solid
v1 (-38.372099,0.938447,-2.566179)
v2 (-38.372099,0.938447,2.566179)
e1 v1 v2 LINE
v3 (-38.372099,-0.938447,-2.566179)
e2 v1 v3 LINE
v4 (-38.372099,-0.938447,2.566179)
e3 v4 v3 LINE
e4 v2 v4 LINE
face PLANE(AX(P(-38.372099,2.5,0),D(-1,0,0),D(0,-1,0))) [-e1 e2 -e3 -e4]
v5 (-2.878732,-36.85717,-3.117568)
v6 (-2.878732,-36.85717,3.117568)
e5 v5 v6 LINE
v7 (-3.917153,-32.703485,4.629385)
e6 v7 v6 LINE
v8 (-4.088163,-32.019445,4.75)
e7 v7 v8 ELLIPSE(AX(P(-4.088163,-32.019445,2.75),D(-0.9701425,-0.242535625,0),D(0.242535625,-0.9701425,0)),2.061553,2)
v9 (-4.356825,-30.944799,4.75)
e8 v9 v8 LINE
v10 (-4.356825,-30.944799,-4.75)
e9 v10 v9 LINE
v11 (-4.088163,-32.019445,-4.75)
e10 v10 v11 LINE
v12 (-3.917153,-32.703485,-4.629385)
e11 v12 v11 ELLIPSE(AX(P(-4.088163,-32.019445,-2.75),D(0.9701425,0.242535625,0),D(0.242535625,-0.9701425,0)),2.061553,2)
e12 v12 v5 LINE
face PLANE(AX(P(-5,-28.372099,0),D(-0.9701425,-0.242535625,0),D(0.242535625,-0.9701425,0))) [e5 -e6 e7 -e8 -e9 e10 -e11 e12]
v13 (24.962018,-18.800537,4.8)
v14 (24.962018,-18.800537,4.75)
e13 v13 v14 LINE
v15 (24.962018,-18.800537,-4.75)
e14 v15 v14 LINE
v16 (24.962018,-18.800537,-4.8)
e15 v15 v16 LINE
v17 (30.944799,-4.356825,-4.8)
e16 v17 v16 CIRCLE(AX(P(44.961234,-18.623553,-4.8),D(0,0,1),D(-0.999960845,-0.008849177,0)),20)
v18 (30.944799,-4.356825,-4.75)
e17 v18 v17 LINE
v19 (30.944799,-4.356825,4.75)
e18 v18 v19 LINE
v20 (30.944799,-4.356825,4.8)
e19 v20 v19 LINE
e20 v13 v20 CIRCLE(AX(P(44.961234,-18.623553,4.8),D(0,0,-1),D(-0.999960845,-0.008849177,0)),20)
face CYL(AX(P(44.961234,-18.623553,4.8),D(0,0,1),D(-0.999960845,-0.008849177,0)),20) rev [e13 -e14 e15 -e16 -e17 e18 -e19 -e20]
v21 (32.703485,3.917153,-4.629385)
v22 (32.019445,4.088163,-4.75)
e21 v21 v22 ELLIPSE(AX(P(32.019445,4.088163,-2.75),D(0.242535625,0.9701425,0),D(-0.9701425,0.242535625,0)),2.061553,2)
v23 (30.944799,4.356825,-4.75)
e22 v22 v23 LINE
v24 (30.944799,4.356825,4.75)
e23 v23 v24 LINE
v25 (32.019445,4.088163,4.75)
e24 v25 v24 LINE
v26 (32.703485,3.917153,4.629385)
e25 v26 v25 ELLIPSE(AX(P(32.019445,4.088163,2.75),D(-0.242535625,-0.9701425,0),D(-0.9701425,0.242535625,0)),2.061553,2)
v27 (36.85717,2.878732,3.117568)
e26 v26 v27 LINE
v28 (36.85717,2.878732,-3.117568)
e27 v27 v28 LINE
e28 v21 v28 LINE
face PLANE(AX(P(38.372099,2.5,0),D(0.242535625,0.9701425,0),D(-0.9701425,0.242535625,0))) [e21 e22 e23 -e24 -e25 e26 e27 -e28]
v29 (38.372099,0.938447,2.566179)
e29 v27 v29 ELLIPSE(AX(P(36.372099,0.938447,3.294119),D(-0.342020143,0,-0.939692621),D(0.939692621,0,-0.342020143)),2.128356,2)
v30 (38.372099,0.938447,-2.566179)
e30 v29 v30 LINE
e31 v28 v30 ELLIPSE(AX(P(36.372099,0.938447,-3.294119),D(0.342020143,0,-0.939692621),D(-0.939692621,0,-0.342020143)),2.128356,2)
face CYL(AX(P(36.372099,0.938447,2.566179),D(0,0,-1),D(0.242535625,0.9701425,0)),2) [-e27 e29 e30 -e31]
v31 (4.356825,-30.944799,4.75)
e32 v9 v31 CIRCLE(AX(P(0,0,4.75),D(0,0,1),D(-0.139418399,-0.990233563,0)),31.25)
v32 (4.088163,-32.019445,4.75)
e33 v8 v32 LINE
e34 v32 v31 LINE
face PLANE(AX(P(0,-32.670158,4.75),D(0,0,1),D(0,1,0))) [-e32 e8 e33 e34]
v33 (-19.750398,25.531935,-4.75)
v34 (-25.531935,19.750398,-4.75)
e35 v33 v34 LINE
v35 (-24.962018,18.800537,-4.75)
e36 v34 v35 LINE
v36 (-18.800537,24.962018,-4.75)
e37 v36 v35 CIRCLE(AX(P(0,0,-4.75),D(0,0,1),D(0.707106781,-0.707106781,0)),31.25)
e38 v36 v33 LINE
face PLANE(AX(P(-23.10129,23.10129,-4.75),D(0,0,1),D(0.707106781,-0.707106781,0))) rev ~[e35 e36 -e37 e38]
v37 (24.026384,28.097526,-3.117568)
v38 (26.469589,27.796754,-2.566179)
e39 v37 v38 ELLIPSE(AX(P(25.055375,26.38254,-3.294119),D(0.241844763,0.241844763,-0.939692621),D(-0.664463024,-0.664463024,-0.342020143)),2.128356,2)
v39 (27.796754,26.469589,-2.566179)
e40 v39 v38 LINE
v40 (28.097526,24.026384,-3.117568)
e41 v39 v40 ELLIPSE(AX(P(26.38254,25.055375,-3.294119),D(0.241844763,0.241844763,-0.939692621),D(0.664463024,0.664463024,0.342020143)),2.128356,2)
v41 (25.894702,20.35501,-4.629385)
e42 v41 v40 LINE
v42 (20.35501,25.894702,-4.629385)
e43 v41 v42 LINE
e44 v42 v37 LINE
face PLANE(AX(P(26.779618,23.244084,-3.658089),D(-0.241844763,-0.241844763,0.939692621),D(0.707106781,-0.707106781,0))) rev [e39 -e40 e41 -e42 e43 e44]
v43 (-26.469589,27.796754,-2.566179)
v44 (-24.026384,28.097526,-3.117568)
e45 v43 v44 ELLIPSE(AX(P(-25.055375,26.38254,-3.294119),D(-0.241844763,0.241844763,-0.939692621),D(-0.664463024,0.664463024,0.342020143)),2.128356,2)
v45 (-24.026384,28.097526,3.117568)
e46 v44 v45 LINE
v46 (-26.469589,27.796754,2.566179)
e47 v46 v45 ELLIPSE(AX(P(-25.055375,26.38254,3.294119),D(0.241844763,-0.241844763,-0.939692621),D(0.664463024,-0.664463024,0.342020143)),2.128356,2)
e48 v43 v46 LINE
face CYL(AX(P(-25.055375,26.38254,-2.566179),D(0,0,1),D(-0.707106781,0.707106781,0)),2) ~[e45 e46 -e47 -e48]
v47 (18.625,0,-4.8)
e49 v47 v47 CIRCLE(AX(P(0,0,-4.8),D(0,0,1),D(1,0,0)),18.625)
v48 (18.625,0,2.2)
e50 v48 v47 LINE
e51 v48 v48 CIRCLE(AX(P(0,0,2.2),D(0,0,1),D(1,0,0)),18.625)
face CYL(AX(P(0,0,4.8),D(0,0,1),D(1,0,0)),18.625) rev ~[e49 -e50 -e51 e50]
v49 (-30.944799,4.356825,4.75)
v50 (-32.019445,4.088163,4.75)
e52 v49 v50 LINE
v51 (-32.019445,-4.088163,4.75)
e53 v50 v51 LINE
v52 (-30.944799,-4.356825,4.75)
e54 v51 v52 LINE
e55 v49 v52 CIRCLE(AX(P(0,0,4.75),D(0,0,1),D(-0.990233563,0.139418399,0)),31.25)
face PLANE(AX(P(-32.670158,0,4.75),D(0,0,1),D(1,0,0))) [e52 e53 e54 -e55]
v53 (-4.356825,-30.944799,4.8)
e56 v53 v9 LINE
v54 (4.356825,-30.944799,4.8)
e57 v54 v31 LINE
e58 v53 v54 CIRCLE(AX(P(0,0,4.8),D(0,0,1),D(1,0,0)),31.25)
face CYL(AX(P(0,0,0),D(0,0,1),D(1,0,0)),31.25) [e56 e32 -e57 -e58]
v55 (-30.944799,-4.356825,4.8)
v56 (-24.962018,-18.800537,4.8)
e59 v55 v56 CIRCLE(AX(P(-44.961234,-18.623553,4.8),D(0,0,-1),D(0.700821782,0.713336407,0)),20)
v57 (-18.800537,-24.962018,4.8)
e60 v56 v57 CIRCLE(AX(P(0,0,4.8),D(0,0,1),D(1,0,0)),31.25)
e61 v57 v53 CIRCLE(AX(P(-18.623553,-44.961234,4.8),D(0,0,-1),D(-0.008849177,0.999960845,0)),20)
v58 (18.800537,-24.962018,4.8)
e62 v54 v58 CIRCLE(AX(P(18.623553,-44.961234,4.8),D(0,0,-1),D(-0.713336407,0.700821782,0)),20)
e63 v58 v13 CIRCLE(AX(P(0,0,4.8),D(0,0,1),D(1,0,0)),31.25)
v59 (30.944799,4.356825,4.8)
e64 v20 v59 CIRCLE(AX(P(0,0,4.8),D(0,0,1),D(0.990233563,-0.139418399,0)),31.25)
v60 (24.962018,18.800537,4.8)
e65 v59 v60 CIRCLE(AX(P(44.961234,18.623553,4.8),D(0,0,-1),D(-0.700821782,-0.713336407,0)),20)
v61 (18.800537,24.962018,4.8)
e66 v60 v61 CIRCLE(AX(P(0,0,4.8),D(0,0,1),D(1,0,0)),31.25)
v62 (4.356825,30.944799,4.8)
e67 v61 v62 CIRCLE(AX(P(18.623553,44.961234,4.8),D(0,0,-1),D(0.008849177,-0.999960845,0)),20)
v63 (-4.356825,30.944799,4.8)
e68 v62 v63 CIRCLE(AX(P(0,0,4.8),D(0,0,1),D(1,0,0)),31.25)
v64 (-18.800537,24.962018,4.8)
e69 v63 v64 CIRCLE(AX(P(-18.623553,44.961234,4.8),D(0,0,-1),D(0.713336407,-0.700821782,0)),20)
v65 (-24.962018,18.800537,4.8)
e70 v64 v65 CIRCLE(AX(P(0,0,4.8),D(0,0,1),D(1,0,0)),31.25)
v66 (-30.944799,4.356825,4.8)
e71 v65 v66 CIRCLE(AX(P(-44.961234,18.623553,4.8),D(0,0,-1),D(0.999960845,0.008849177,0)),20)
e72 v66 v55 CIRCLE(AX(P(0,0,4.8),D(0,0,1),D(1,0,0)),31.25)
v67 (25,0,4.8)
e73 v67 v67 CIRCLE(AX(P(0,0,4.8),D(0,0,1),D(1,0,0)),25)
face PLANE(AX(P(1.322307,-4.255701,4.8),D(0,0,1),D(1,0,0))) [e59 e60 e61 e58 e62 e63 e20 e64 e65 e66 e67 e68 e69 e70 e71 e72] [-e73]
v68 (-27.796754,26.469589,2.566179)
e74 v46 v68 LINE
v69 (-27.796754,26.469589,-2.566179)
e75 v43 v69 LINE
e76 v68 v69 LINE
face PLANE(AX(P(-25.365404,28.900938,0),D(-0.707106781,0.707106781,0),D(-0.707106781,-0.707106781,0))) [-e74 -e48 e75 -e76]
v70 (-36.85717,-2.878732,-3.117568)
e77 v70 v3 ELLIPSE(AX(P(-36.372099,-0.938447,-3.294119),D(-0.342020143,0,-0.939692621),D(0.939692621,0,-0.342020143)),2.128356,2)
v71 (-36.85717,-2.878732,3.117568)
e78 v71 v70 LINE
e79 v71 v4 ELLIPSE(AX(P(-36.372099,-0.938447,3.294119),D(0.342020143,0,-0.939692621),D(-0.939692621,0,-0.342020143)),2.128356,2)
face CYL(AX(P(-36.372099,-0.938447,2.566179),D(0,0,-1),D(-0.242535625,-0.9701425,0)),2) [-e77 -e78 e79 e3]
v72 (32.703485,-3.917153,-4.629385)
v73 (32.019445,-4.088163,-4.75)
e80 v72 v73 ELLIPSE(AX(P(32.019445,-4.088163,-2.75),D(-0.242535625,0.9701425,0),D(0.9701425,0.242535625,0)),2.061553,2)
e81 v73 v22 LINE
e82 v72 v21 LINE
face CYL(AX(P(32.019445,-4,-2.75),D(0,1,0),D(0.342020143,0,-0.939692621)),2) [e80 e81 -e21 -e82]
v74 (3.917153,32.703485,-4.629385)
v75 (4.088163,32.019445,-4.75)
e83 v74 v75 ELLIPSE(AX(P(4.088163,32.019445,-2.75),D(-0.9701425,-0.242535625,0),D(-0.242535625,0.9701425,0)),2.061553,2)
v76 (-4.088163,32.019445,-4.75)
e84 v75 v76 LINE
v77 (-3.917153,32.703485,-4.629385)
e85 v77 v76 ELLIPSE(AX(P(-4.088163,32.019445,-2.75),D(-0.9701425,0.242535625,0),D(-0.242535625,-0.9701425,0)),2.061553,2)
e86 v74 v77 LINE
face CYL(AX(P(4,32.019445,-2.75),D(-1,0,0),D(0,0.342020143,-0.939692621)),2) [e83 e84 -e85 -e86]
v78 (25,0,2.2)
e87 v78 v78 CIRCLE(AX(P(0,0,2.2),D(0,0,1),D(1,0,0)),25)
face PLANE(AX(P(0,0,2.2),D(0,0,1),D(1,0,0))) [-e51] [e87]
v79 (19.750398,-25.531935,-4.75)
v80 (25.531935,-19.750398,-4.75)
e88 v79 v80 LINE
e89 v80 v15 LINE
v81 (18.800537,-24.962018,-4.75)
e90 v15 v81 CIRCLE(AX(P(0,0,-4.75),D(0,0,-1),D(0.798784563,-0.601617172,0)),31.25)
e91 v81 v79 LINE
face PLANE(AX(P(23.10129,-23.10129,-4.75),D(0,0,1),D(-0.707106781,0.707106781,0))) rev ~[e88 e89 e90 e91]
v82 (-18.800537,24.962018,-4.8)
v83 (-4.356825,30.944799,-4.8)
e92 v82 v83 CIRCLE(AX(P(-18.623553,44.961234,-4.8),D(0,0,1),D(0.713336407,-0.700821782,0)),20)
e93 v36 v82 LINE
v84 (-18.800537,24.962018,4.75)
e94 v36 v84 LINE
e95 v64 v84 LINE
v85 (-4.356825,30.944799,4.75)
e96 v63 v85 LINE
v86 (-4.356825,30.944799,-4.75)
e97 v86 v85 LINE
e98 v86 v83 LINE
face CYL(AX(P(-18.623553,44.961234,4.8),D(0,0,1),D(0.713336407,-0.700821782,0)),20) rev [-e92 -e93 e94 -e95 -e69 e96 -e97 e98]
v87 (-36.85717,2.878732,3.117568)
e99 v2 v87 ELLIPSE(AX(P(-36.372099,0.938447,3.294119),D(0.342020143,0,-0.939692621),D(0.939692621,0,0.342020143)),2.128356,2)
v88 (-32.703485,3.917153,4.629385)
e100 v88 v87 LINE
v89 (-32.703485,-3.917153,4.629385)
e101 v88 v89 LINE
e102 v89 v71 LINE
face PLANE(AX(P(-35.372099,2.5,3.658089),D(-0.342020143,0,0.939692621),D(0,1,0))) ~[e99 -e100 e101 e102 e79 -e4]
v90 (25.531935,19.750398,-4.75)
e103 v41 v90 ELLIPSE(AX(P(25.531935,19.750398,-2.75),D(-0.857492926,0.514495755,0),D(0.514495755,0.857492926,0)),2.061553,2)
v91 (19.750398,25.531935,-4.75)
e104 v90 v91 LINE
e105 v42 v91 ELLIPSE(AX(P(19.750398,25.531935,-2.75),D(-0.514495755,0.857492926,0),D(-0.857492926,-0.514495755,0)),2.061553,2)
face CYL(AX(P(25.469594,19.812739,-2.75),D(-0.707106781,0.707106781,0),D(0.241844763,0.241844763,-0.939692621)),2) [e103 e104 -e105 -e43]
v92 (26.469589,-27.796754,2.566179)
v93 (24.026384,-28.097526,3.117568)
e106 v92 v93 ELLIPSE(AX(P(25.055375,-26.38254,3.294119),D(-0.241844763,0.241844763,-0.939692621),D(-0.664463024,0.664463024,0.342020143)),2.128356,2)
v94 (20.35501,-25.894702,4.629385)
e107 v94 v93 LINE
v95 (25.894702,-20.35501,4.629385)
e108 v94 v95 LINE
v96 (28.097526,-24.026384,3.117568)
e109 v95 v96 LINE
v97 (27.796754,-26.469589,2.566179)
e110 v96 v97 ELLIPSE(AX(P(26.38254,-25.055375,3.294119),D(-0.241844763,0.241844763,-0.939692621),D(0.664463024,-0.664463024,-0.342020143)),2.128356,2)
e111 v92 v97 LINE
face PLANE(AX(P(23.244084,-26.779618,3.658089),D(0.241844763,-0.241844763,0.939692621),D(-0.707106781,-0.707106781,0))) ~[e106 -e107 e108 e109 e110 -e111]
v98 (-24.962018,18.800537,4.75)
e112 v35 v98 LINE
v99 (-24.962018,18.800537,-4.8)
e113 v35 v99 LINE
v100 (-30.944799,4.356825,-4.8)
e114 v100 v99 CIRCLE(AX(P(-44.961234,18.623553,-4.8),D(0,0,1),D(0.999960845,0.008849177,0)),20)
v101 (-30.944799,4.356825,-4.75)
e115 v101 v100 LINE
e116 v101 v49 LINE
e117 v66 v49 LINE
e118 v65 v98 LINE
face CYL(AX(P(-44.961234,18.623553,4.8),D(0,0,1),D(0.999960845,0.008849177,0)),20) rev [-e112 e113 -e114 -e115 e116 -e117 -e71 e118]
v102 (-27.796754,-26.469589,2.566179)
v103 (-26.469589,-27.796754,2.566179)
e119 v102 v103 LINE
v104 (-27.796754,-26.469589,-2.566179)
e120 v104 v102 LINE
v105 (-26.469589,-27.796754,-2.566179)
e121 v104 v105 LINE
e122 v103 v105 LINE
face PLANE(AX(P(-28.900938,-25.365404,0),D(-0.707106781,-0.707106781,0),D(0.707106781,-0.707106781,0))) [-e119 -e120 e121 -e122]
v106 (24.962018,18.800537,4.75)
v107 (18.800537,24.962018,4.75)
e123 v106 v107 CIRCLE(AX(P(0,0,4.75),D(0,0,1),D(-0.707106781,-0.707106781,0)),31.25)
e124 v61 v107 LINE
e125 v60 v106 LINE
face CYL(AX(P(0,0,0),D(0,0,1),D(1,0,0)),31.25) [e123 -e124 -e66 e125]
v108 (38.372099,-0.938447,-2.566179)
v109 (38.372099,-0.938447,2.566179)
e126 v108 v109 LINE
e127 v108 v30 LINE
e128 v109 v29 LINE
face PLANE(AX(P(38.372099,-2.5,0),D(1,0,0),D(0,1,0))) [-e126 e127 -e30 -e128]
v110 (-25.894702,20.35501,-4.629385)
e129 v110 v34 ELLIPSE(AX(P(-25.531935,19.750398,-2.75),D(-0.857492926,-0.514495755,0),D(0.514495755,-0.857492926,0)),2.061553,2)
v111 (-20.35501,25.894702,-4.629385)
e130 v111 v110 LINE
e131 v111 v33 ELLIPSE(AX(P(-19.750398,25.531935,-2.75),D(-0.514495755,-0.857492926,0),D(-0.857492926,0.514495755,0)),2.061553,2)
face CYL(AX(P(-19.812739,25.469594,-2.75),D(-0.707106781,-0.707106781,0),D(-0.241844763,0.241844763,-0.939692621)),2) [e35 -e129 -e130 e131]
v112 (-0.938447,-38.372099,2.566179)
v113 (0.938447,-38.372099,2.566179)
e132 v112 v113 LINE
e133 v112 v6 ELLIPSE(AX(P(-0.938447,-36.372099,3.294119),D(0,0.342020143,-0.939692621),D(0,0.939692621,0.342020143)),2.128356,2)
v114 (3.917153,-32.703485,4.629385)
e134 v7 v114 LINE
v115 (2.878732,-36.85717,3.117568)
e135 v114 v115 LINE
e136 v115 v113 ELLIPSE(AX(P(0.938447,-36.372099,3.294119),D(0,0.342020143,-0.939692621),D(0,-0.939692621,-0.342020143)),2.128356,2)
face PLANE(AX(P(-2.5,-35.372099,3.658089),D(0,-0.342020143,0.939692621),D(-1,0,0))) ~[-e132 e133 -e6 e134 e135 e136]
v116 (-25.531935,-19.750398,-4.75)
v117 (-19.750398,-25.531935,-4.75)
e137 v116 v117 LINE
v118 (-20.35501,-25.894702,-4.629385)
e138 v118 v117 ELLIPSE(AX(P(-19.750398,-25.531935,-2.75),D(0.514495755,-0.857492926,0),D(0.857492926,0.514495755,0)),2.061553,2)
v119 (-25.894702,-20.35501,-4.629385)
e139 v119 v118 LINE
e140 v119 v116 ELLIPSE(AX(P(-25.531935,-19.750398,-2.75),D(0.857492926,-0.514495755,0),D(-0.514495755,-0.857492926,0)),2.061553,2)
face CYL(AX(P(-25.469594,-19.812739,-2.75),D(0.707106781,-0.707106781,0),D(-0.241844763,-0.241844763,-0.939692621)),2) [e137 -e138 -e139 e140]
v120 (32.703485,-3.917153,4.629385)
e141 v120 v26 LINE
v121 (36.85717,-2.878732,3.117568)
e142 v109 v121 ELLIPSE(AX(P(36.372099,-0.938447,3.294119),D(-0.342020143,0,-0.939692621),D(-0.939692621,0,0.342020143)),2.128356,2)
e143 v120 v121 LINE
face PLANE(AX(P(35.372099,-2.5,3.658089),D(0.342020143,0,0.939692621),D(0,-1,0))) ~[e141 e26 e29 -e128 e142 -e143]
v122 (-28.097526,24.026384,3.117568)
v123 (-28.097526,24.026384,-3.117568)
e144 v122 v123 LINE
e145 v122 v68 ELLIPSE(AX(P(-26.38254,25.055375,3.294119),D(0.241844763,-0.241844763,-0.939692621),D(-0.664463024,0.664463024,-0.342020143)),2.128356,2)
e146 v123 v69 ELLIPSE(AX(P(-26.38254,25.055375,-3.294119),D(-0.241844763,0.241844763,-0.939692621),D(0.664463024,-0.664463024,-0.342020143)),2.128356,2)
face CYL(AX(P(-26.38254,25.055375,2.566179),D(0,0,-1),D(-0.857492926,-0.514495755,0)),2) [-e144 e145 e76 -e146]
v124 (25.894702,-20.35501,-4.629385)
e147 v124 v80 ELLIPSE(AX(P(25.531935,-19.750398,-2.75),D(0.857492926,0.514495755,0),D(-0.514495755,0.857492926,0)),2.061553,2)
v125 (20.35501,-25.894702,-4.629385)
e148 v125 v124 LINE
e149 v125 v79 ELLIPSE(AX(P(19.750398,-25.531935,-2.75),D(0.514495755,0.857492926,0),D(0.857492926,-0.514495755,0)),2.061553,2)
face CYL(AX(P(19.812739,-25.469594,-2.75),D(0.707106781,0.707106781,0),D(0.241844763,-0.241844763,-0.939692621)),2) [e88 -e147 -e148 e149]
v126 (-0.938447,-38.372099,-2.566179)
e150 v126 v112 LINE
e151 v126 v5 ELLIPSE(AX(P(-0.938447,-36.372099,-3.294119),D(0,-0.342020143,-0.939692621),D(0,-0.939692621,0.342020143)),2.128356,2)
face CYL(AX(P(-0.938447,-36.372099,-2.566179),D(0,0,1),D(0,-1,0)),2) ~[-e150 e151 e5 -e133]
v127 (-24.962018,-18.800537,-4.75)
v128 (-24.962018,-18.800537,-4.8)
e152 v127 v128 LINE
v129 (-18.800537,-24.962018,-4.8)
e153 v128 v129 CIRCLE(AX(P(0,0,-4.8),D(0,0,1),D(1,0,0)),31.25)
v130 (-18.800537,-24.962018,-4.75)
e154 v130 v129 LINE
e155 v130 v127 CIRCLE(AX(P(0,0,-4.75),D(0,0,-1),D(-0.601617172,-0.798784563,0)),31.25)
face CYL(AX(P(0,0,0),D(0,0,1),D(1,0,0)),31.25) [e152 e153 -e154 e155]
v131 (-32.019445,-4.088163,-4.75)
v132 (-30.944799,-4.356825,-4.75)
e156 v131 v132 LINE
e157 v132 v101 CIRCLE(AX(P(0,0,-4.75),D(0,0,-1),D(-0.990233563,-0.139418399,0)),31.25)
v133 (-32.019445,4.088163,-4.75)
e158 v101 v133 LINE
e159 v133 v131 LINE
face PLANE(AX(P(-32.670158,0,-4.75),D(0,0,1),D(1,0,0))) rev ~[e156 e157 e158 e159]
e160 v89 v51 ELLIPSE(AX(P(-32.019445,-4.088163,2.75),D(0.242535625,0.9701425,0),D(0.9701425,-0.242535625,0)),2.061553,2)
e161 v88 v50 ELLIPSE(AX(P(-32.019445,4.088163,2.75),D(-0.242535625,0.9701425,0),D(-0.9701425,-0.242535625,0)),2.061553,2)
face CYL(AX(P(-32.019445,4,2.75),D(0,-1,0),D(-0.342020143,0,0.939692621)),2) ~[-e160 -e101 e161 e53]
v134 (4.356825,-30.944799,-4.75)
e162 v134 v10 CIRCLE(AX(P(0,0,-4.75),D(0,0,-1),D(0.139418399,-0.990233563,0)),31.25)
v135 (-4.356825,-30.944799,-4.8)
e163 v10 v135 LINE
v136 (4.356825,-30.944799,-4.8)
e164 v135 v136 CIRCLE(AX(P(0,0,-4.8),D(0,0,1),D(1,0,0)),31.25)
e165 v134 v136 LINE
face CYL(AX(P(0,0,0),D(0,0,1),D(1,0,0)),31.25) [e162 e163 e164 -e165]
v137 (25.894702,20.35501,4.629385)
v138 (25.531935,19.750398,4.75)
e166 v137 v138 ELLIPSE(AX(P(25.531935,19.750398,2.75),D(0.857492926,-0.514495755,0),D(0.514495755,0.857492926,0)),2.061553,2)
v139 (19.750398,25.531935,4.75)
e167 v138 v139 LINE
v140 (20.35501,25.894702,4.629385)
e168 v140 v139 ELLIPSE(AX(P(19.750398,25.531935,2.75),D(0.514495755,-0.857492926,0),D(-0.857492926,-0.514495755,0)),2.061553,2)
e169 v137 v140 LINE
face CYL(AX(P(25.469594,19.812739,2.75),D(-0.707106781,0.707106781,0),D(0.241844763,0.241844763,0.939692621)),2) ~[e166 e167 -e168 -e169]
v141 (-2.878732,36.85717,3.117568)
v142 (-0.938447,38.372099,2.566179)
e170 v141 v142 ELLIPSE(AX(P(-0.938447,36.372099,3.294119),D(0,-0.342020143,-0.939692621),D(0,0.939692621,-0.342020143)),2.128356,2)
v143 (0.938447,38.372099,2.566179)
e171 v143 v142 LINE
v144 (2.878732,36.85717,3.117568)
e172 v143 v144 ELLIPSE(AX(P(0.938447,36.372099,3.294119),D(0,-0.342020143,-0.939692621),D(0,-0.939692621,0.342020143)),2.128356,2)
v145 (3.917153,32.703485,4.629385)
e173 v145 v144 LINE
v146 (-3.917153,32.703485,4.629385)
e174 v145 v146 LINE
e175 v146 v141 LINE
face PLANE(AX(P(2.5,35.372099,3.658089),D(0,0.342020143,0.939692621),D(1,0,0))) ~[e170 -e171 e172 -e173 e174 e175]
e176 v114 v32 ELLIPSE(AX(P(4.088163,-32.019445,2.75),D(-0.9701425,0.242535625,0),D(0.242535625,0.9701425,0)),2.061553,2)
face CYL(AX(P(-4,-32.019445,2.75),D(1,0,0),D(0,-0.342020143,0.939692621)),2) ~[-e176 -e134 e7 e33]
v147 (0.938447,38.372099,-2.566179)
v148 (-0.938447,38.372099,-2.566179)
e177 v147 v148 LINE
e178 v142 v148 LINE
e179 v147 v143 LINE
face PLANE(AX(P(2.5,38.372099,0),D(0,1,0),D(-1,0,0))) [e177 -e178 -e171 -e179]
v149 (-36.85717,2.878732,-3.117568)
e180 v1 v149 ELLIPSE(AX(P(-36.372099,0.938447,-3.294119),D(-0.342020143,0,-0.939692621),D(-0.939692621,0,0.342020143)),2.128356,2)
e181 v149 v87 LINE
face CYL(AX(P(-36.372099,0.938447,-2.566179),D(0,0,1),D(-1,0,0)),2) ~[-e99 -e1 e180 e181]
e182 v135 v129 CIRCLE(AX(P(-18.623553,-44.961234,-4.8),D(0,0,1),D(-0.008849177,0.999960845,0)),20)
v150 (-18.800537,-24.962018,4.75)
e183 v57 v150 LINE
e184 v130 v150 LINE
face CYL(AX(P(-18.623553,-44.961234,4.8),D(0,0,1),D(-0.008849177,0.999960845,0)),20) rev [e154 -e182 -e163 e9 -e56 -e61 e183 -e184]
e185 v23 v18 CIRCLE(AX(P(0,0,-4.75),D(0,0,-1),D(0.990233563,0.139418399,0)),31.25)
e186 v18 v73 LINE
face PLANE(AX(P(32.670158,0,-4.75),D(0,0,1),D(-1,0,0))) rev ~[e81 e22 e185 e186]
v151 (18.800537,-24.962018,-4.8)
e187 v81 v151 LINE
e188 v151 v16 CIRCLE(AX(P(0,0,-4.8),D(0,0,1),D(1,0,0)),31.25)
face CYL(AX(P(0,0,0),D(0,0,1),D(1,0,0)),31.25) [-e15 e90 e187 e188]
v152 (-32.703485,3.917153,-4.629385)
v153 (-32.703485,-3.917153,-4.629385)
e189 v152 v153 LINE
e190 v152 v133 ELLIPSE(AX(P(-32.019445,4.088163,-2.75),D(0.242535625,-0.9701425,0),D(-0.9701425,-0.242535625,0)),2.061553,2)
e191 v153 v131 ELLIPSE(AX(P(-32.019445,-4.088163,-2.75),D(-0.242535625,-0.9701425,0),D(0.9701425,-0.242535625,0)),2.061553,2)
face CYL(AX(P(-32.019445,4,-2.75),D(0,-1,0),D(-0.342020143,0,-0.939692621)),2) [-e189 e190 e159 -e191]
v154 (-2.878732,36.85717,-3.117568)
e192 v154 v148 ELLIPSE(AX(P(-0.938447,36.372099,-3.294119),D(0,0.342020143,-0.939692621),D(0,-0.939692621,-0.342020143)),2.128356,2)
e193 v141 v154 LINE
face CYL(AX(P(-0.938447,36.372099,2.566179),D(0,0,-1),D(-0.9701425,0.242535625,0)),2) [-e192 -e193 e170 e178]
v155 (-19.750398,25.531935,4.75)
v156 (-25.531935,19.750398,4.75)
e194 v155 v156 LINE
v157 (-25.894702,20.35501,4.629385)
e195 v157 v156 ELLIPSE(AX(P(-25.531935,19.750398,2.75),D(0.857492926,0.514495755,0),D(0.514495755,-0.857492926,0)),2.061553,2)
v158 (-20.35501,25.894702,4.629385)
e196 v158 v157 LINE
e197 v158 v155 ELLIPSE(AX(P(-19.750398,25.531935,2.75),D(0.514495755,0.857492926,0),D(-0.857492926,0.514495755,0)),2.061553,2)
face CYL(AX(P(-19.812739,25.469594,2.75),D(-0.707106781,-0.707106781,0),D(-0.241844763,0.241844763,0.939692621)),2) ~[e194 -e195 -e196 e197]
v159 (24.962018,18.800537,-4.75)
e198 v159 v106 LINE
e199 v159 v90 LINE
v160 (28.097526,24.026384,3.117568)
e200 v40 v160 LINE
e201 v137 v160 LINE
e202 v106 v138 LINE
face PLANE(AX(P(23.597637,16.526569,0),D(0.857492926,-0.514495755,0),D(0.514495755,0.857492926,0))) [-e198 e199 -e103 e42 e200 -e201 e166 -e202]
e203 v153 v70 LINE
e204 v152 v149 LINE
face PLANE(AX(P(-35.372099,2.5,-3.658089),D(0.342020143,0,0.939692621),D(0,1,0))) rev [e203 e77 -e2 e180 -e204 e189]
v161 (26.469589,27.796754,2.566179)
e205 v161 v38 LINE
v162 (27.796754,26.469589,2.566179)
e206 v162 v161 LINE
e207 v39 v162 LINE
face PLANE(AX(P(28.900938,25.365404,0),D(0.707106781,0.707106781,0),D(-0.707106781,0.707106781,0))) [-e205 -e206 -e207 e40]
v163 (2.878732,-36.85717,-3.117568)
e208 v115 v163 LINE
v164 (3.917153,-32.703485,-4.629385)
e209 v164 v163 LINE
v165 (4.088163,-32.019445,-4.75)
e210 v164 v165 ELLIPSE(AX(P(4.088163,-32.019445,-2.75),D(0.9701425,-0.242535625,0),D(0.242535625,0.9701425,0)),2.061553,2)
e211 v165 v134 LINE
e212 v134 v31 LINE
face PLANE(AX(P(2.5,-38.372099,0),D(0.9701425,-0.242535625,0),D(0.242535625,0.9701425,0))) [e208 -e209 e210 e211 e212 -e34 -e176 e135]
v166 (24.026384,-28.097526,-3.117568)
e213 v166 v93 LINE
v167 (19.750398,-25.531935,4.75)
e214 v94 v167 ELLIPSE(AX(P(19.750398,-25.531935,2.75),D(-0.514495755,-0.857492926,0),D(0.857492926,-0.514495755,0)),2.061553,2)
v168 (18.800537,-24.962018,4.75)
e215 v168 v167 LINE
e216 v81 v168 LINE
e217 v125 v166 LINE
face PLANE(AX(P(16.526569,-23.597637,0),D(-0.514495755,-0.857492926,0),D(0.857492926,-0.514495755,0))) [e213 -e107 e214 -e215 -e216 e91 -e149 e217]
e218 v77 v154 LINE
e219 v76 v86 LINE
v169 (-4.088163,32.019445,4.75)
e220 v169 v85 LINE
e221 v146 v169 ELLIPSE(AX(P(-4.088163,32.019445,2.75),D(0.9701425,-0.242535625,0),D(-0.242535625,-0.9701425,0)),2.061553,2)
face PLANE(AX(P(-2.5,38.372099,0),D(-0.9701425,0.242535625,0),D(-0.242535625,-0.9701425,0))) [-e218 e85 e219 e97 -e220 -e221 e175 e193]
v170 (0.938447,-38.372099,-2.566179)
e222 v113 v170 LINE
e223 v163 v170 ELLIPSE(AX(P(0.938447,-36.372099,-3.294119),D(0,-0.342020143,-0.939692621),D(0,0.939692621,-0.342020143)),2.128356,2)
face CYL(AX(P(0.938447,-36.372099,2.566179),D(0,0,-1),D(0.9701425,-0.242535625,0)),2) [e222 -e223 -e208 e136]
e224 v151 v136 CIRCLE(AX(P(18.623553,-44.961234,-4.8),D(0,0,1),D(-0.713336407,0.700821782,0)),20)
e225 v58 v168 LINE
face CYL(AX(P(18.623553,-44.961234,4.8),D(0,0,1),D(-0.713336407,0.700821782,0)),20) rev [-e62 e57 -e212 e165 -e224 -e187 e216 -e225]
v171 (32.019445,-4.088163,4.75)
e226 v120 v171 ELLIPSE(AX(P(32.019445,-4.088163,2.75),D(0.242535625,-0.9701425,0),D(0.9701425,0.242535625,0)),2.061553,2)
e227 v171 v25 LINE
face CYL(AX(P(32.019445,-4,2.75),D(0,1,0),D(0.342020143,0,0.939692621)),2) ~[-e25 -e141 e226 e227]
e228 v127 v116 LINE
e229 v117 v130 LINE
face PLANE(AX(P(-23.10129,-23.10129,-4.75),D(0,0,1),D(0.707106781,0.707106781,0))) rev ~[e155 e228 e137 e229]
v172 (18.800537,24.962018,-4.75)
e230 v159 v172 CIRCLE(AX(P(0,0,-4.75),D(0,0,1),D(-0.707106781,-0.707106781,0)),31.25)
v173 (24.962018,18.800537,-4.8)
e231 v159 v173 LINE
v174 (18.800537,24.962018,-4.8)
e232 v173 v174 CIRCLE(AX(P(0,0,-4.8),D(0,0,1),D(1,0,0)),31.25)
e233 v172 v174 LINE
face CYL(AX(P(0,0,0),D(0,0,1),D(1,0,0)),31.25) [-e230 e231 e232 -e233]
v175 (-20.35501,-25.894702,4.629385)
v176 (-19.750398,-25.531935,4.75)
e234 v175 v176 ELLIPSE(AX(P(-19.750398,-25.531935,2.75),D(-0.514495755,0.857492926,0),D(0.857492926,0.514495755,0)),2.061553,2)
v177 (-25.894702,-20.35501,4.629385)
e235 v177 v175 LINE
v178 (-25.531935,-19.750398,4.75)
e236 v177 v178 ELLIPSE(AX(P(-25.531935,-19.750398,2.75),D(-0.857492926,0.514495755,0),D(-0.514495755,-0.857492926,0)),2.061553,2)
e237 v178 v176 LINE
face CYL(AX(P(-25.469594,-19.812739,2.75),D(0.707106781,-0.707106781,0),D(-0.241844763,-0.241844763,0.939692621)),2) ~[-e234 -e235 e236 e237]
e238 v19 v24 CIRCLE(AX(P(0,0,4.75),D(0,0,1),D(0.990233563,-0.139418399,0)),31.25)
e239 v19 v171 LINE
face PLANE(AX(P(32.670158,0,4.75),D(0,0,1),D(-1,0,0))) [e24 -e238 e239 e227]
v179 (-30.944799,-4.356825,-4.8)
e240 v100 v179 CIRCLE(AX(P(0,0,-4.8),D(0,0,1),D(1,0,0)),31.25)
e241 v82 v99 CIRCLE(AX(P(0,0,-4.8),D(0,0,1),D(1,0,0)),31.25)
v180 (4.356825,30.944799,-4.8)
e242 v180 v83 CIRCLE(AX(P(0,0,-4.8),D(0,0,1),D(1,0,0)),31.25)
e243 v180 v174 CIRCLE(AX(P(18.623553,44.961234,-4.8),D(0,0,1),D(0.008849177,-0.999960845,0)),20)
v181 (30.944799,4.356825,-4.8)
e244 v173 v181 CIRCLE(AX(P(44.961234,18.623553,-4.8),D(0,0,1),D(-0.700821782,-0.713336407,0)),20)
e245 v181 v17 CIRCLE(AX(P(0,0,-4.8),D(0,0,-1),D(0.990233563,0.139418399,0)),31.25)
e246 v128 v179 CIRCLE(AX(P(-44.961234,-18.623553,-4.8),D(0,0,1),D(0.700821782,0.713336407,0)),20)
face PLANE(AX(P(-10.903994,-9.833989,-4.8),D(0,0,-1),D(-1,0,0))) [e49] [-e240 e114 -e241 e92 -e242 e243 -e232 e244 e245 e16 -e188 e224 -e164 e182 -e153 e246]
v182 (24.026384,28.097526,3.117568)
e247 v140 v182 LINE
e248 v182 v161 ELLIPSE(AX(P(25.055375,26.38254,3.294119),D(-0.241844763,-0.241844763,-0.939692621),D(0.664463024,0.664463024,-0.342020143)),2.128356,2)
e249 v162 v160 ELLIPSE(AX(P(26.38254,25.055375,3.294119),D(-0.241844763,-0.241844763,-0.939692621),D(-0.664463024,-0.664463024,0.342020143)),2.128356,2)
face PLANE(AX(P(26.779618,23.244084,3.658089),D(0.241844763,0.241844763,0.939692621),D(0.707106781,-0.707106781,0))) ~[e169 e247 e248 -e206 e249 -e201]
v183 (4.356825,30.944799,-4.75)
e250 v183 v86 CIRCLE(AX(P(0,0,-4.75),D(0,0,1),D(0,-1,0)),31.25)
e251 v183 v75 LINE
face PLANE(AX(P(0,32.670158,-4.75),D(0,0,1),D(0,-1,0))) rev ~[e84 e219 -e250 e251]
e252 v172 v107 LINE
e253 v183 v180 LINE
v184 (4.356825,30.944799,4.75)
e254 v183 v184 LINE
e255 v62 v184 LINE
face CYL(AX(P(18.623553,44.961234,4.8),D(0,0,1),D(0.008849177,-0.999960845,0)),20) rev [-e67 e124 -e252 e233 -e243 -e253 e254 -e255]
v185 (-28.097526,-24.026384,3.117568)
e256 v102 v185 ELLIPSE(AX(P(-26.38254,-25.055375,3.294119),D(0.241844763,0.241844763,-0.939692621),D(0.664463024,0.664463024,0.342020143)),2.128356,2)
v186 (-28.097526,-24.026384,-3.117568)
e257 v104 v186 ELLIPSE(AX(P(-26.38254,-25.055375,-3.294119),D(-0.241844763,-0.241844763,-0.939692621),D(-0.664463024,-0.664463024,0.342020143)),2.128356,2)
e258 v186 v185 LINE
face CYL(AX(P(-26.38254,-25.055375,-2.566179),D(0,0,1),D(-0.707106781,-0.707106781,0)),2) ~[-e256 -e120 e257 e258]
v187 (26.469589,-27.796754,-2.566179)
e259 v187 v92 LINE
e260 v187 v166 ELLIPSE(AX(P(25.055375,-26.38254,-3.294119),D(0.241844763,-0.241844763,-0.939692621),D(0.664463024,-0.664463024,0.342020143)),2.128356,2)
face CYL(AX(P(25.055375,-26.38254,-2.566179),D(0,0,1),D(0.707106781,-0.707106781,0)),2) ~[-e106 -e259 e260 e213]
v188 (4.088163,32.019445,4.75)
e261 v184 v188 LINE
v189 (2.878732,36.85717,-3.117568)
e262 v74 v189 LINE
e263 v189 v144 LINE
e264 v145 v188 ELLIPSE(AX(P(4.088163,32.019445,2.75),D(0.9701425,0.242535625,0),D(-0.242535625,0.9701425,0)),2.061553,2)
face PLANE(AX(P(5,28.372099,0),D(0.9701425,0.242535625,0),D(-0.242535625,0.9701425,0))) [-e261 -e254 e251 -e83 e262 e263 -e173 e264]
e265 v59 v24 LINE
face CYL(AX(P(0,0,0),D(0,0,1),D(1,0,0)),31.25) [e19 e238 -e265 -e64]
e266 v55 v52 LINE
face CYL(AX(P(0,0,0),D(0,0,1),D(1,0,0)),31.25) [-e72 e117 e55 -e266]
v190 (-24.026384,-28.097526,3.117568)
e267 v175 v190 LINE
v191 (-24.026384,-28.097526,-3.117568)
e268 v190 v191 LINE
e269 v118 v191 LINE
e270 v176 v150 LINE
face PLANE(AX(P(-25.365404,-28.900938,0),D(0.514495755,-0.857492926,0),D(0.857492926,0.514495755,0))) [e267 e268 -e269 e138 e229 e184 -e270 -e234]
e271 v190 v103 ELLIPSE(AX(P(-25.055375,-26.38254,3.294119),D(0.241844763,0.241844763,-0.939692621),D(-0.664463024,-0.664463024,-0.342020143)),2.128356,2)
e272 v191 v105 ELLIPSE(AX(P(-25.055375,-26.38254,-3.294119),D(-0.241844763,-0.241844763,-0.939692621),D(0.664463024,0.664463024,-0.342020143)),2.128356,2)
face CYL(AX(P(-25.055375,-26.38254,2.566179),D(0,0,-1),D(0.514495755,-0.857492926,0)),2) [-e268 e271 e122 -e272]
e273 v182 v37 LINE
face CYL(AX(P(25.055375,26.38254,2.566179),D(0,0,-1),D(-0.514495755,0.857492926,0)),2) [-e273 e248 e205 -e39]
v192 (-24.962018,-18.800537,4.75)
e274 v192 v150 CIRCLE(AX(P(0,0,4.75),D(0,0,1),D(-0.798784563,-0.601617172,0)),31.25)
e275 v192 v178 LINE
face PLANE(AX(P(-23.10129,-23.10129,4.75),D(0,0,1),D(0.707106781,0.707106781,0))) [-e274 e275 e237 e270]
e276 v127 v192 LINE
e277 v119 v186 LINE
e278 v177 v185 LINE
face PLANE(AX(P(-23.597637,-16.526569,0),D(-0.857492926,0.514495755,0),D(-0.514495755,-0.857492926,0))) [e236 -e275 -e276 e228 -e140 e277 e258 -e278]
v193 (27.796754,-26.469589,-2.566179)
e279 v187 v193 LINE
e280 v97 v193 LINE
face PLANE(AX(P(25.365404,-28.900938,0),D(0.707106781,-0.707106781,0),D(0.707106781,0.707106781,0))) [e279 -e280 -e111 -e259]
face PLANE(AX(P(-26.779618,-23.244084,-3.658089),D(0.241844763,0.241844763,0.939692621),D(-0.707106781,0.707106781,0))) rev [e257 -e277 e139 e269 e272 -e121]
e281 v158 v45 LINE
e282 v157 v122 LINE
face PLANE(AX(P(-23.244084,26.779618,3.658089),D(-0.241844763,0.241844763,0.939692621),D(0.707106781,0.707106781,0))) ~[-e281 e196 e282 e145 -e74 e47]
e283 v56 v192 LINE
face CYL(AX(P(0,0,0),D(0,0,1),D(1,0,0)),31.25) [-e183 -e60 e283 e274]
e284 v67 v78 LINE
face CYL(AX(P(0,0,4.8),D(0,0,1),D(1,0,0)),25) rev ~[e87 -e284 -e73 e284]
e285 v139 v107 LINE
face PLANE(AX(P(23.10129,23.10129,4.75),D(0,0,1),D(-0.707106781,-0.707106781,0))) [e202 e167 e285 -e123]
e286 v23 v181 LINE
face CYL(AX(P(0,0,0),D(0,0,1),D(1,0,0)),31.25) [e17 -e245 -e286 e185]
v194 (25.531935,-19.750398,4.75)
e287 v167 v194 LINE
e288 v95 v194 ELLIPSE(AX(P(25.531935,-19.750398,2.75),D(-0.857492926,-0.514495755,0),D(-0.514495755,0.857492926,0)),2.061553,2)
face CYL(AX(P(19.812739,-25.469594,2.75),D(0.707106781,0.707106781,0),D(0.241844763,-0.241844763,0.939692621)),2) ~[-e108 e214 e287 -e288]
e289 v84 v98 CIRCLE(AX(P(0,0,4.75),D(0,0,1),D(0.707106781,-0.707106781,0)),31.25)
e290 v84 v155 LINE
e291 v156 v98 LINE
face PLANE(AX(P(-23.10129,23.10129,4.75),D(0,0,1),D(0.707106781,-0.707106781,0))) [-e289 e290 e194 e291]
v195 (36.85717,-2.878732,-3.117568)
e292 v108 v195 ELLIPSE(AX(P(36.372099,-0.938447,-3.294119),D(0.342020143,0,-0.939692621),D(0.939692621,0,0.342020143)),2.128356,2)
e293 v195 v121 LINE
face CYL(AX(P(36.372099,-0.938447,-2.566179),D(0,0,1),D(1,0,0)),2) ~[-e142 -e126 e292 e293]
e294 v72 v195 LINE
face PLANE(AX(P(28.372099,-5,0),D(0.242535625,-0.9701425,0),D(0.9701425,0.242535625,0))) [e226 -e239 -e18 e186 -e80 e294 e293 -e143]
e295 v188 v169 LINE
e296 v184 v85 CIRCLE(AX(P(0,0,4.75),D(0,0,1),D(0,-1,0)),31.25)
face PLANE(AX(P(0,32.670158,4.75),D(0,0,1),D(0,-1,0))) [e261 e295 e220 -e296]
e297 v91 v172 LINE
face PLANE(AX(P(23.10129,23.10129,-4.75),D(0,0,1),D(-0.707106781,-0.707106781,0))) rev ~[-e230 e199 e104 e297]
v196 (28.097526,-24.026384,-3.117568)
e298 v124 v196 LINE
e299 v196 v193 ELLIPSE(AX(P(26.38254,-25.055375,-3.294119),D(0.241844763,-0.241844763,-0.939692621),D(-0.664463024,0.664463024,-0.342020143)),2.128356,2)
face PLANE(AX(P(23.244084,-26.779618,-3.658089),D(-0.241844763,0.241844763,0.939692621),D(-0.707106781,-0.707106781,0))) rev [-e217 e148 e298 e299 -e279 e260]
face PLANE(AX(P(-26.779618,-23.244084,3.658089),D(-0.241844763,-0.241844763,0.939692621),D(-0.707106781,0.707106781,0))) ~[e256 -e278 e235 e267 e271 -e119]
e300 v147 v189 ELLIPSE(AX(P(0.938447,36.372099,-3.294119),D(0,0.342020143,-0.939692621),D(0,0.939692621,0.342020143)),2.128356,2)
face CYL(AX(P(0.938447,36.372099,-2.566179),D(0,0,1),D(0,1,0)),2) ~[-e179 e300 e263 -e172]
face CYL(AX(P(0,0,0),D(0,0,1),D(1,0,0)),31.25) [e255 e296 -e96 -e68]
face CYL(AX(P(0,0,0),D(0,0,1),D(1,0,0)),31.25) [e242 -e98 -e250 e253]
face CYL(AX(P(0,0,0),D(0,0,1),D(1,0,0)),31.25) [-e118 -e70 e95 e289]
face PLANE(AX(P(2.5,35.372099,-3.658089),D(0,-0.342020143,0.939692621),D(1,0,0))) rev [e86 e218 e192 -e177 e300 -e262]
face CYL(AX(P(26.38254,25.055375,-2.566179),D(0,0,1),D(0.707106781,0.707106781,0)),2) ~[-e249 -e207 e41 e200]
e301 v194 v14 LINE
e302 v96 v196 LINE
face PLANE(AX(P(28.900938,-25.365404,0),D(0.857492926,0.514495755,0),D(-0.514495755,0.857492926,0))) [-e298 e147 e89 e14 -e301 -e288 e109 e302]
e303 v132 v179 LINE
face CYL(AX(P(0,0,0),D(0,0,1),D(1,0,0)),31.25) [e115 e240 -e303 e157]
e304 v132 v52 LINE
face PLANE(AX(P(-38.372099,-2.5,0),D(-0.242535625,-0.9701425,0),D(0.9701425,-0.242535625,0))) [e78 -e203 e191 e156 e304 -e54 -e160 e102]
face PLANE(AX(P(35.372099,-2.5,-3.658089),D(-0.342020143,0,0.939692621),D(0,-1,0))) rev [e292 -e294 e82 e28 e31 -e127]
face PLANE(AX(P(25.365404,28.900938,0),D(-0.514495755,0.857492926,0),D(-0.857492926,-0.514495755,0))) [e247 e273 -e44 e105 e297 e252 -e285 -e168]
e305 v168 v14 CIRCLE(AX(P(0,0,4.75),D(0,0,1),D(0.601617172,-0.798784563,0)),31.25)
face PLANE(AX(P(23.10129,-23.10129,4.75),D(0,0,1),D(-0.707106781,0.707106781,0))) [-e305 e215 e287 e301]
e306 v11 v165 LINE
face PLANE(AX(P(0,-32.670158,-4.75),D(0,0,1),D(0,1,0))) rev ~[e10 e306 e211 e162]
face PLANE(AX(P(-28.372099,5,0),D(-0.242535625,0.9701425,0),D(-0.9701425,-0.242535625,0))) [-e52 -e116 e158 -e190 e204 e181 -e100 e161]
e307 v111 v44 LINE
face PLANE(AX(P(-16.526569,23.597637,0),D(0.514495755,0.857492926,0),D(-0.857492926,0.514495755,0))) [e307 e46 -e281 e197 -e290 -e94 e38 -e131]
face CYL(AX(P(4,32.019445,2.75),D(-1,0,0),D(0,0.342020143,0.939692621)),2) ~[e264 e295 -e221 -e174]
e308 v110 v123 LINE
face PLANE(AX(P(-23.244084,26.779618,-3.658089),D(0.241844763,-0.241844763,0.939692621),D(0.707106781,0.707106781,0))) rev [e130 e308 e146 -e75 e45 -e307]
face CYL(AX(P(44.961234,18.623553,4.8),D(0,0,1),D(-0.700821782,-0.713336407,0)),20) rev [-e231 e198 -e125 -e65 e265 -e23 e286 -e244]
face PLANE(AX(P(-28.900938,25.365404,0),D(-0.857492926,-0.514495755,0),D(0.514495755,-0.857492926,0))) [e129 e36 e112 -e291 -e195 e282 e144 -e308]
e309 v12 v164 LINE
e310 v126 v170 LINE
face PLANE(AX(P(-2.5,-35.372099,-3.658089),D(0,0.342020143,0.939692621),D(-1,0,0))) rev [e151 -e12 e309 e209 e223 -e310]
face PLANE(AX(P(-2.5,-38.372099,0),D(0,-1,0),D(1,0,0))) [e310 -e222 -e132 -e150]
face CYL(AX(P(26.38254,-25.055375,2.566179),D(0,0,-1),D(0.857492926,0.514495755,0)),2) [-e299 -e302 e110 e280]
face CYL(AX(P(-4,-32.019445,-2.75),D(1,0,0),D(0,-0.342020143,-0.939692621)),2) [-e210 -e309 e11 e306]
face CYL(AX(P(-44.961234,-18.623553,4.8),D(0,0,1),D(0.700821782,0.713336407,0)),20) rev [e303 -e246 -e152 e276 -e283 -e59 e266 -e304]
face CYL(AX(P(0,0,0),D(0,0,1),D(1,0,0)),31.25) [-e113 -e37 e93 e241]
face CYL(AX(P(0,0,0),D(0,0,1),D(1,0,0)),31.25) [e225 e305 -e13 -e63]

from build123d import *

# Parameters (mm, degrees)
SKETCH1_R           = 31.25
BOSS_EXTRUDE1_DEPTH = 15
BOSS_EXTRUDE2_DEPTH = 4.75
CHAMFER1_SIZE       = 6
CHAMFER1_SIZE2      = 2.183821406
CHAMFER2_SIZE       = 6
CHAMFER2_SIZE2      = 2.183821406
FILLET11_R          = 2
FILLET12_R          = 2
CIRPATTERN1_COUNT   = 8
SKETCH14_W          = 114.781544729
SKETCH14_H          = 99.982125168
CUT_EXTRUDE11_DEPTH = 20
SKETCH15_W          = 194.409122682
SKETCH15_H          = 129.478767366
CUT_EXTRUDE12_DEPTH = 20
CUT_EXTRUDE13_DEPTH = 20
CIRPATTERN3_COUNT   = 8
SKETCH20_R          = 18.625
CUT_EXTRUDE14_DEPTH = 20
SKETCH21_R          = 25
CUT_EXTRUDE15_DEPTH = 2.6


with BuildPart() as part:
    # Sketch1 → Boss-Extrude1 (new body, symmetric)
    with BuildSketch(Plane.XY):
        Circle(SKETCH1_R)
    extrude(amount=BOSS_EXTRUDE1_DEPTH, both=True)

    # Sketch2 → Boss-Extrude2 (add, symmetric)
    with BuildSketch(Plane.XY):
        Polygon((-28.372098708, -5), (-28.372098708, 5), (-38.372098708, 2.5), (-38.372098708, -2.5), align=None)
    extrude(amount=BOSS_EXTRUDE2_DEPTH, both=True)

    # Chamfer1
    chamfer1_edges = [part.edges().sort_by_distance(p)[0] for p in [
        (-38.372098708, 0, -4.75),
    ]]
    chamfer1_side = [part.faces().sort_by_distance(p)[0] for p in [
        (-34.440800156, 0, -4.75),
    ]]
    chamfer(chamfer1_edges, length=CHAMFER1_SIZE, length2=CHAMFER1_SIZE2, reference=chamfer1_side[0])

    # Chamfer2
    chamfer2_edges = [part.edges().sort_by_distance(p)[0] for p in [
        (-38.372098708, 0, 4.75),
    ]]
    chamfer2_side = [part.faces().sort_by_distance(p)[0] for p in [
        (-34.440800156, 0, 4.75),
    ]]
    chamfer(chamfer2_edges, length=CHAMFER2_SIZE, length2=CHAMFER2_SIZE2, reference=chamfer2_side[0])

    # Fillet11
    fillet11_edges = [part.edges().sort_by_distance(p)[0] for p in [
        (-38.372098708, -2.5, 0),
        (-38.372098708, 2.5, 0),
    ]]
    fillet(fillet11_edges, radius=FILLET11_R)

    # Fillet12
    fillet12_edges = [part.edges().sort_by_distance(p)[0] for p in [
        (-32.372098708, 0, -4.75),
        (-32.372098708, 0, 4.75),
    ]]
    fillet(fillet12_edges, radius=FILLET12_R)

    # CirPattern1: part ×8 about axis
    cirpattern1_axis = Axis((0, 0, 0), (0, 0, 1))


with BuildPart() as part_1:
    add(part.part)
    for i in range(1, CIRPATTERN1_COUNT):
        add(part.part.rotate(cirpattern1_axis, i * 360 / CIRPATTERN1_COUNT))

    # Sketch14 → Cut-Extrude11 (cut)
    with BuildSketch(Plane(origin=(0, 0, -4.8), x_dir=(-1, 0, 0), z_dir=(0, 0, -1))):
        with Locations((10.903993862, -9.833989058)):
            Rectangle(SKETCH14_W, SKETCH14_H)
    extrude(amount=CUT_EXTRUDE11_DEPTH, mode=Mode.SUBTRACT)

    # Sketch15 → Cut-Extrude12 (cut)
    with BuildSketch(Plane.XY.offset(4.8)):
        with Locations((1.322307029, -4.255701029)):
            Rectangle(SKETCH15_W, SKETCH15_H)
    extrude(amount=CUT_EXTRUDE12_DEPTH, mode=Mode.SUBTRACT)

    # Sketch17 → Cut-Extrude13 (cut)
    with BuildSketch(Plane.XY.offset(4.8)):
        with BuildLine():
            Line((-3.917153419, 32.703485033), (-4.356824963, 30.944798856))
            ThreePointArc((-4.356824963, 30.944798856), (-10.969884461, 26.483643844), (-18.800536638, 24.962017589))
            Line((-18.800536638, 24.962017589), (-20.35501029, 25.89470178))
            Line((-20.35501029, 25.89470178), (-3.917153419, 32.703485033))
        make_face()
    cut_extrude13 = extrude(amount=-CUT_EXTRUDE13_DEPTH, mode=Mode.SUBTRACT)

    # CirPattern3: Cut-Extrude13 ×8 about axis
    cirpattern3_axis = Axis((0, 0, 0), (0, 0, 1))
    for i in range(1, CIRPATTERN3_COUNT):
        add(cut_extrude13.rotate(cirpattern3_axis, i * 360 / CIRPATTERN3_COUNT), mode=Mode.SUBTRACT)

    # Sketch20 → Cut-Extrude14 (cut)
    with BuildSketch(Plane.XY.offset(4.8)):
        Circle(SKETCH20_R)
    extrude(amount=-CUT_EXTRUDE14_DEPTH, mode=Mode.SUBTRACT)

    # Sketch21 → Cut-Extrude15 (cut)
    with BuildSketch(Plane.XY.offset(4.8)):
        Circle(SKETCH21_R)
    extrude(amount=-CUT_EXTRUDE15_DEPTH, mode=Mode.SUBTRACT)


solid = part_1.part
